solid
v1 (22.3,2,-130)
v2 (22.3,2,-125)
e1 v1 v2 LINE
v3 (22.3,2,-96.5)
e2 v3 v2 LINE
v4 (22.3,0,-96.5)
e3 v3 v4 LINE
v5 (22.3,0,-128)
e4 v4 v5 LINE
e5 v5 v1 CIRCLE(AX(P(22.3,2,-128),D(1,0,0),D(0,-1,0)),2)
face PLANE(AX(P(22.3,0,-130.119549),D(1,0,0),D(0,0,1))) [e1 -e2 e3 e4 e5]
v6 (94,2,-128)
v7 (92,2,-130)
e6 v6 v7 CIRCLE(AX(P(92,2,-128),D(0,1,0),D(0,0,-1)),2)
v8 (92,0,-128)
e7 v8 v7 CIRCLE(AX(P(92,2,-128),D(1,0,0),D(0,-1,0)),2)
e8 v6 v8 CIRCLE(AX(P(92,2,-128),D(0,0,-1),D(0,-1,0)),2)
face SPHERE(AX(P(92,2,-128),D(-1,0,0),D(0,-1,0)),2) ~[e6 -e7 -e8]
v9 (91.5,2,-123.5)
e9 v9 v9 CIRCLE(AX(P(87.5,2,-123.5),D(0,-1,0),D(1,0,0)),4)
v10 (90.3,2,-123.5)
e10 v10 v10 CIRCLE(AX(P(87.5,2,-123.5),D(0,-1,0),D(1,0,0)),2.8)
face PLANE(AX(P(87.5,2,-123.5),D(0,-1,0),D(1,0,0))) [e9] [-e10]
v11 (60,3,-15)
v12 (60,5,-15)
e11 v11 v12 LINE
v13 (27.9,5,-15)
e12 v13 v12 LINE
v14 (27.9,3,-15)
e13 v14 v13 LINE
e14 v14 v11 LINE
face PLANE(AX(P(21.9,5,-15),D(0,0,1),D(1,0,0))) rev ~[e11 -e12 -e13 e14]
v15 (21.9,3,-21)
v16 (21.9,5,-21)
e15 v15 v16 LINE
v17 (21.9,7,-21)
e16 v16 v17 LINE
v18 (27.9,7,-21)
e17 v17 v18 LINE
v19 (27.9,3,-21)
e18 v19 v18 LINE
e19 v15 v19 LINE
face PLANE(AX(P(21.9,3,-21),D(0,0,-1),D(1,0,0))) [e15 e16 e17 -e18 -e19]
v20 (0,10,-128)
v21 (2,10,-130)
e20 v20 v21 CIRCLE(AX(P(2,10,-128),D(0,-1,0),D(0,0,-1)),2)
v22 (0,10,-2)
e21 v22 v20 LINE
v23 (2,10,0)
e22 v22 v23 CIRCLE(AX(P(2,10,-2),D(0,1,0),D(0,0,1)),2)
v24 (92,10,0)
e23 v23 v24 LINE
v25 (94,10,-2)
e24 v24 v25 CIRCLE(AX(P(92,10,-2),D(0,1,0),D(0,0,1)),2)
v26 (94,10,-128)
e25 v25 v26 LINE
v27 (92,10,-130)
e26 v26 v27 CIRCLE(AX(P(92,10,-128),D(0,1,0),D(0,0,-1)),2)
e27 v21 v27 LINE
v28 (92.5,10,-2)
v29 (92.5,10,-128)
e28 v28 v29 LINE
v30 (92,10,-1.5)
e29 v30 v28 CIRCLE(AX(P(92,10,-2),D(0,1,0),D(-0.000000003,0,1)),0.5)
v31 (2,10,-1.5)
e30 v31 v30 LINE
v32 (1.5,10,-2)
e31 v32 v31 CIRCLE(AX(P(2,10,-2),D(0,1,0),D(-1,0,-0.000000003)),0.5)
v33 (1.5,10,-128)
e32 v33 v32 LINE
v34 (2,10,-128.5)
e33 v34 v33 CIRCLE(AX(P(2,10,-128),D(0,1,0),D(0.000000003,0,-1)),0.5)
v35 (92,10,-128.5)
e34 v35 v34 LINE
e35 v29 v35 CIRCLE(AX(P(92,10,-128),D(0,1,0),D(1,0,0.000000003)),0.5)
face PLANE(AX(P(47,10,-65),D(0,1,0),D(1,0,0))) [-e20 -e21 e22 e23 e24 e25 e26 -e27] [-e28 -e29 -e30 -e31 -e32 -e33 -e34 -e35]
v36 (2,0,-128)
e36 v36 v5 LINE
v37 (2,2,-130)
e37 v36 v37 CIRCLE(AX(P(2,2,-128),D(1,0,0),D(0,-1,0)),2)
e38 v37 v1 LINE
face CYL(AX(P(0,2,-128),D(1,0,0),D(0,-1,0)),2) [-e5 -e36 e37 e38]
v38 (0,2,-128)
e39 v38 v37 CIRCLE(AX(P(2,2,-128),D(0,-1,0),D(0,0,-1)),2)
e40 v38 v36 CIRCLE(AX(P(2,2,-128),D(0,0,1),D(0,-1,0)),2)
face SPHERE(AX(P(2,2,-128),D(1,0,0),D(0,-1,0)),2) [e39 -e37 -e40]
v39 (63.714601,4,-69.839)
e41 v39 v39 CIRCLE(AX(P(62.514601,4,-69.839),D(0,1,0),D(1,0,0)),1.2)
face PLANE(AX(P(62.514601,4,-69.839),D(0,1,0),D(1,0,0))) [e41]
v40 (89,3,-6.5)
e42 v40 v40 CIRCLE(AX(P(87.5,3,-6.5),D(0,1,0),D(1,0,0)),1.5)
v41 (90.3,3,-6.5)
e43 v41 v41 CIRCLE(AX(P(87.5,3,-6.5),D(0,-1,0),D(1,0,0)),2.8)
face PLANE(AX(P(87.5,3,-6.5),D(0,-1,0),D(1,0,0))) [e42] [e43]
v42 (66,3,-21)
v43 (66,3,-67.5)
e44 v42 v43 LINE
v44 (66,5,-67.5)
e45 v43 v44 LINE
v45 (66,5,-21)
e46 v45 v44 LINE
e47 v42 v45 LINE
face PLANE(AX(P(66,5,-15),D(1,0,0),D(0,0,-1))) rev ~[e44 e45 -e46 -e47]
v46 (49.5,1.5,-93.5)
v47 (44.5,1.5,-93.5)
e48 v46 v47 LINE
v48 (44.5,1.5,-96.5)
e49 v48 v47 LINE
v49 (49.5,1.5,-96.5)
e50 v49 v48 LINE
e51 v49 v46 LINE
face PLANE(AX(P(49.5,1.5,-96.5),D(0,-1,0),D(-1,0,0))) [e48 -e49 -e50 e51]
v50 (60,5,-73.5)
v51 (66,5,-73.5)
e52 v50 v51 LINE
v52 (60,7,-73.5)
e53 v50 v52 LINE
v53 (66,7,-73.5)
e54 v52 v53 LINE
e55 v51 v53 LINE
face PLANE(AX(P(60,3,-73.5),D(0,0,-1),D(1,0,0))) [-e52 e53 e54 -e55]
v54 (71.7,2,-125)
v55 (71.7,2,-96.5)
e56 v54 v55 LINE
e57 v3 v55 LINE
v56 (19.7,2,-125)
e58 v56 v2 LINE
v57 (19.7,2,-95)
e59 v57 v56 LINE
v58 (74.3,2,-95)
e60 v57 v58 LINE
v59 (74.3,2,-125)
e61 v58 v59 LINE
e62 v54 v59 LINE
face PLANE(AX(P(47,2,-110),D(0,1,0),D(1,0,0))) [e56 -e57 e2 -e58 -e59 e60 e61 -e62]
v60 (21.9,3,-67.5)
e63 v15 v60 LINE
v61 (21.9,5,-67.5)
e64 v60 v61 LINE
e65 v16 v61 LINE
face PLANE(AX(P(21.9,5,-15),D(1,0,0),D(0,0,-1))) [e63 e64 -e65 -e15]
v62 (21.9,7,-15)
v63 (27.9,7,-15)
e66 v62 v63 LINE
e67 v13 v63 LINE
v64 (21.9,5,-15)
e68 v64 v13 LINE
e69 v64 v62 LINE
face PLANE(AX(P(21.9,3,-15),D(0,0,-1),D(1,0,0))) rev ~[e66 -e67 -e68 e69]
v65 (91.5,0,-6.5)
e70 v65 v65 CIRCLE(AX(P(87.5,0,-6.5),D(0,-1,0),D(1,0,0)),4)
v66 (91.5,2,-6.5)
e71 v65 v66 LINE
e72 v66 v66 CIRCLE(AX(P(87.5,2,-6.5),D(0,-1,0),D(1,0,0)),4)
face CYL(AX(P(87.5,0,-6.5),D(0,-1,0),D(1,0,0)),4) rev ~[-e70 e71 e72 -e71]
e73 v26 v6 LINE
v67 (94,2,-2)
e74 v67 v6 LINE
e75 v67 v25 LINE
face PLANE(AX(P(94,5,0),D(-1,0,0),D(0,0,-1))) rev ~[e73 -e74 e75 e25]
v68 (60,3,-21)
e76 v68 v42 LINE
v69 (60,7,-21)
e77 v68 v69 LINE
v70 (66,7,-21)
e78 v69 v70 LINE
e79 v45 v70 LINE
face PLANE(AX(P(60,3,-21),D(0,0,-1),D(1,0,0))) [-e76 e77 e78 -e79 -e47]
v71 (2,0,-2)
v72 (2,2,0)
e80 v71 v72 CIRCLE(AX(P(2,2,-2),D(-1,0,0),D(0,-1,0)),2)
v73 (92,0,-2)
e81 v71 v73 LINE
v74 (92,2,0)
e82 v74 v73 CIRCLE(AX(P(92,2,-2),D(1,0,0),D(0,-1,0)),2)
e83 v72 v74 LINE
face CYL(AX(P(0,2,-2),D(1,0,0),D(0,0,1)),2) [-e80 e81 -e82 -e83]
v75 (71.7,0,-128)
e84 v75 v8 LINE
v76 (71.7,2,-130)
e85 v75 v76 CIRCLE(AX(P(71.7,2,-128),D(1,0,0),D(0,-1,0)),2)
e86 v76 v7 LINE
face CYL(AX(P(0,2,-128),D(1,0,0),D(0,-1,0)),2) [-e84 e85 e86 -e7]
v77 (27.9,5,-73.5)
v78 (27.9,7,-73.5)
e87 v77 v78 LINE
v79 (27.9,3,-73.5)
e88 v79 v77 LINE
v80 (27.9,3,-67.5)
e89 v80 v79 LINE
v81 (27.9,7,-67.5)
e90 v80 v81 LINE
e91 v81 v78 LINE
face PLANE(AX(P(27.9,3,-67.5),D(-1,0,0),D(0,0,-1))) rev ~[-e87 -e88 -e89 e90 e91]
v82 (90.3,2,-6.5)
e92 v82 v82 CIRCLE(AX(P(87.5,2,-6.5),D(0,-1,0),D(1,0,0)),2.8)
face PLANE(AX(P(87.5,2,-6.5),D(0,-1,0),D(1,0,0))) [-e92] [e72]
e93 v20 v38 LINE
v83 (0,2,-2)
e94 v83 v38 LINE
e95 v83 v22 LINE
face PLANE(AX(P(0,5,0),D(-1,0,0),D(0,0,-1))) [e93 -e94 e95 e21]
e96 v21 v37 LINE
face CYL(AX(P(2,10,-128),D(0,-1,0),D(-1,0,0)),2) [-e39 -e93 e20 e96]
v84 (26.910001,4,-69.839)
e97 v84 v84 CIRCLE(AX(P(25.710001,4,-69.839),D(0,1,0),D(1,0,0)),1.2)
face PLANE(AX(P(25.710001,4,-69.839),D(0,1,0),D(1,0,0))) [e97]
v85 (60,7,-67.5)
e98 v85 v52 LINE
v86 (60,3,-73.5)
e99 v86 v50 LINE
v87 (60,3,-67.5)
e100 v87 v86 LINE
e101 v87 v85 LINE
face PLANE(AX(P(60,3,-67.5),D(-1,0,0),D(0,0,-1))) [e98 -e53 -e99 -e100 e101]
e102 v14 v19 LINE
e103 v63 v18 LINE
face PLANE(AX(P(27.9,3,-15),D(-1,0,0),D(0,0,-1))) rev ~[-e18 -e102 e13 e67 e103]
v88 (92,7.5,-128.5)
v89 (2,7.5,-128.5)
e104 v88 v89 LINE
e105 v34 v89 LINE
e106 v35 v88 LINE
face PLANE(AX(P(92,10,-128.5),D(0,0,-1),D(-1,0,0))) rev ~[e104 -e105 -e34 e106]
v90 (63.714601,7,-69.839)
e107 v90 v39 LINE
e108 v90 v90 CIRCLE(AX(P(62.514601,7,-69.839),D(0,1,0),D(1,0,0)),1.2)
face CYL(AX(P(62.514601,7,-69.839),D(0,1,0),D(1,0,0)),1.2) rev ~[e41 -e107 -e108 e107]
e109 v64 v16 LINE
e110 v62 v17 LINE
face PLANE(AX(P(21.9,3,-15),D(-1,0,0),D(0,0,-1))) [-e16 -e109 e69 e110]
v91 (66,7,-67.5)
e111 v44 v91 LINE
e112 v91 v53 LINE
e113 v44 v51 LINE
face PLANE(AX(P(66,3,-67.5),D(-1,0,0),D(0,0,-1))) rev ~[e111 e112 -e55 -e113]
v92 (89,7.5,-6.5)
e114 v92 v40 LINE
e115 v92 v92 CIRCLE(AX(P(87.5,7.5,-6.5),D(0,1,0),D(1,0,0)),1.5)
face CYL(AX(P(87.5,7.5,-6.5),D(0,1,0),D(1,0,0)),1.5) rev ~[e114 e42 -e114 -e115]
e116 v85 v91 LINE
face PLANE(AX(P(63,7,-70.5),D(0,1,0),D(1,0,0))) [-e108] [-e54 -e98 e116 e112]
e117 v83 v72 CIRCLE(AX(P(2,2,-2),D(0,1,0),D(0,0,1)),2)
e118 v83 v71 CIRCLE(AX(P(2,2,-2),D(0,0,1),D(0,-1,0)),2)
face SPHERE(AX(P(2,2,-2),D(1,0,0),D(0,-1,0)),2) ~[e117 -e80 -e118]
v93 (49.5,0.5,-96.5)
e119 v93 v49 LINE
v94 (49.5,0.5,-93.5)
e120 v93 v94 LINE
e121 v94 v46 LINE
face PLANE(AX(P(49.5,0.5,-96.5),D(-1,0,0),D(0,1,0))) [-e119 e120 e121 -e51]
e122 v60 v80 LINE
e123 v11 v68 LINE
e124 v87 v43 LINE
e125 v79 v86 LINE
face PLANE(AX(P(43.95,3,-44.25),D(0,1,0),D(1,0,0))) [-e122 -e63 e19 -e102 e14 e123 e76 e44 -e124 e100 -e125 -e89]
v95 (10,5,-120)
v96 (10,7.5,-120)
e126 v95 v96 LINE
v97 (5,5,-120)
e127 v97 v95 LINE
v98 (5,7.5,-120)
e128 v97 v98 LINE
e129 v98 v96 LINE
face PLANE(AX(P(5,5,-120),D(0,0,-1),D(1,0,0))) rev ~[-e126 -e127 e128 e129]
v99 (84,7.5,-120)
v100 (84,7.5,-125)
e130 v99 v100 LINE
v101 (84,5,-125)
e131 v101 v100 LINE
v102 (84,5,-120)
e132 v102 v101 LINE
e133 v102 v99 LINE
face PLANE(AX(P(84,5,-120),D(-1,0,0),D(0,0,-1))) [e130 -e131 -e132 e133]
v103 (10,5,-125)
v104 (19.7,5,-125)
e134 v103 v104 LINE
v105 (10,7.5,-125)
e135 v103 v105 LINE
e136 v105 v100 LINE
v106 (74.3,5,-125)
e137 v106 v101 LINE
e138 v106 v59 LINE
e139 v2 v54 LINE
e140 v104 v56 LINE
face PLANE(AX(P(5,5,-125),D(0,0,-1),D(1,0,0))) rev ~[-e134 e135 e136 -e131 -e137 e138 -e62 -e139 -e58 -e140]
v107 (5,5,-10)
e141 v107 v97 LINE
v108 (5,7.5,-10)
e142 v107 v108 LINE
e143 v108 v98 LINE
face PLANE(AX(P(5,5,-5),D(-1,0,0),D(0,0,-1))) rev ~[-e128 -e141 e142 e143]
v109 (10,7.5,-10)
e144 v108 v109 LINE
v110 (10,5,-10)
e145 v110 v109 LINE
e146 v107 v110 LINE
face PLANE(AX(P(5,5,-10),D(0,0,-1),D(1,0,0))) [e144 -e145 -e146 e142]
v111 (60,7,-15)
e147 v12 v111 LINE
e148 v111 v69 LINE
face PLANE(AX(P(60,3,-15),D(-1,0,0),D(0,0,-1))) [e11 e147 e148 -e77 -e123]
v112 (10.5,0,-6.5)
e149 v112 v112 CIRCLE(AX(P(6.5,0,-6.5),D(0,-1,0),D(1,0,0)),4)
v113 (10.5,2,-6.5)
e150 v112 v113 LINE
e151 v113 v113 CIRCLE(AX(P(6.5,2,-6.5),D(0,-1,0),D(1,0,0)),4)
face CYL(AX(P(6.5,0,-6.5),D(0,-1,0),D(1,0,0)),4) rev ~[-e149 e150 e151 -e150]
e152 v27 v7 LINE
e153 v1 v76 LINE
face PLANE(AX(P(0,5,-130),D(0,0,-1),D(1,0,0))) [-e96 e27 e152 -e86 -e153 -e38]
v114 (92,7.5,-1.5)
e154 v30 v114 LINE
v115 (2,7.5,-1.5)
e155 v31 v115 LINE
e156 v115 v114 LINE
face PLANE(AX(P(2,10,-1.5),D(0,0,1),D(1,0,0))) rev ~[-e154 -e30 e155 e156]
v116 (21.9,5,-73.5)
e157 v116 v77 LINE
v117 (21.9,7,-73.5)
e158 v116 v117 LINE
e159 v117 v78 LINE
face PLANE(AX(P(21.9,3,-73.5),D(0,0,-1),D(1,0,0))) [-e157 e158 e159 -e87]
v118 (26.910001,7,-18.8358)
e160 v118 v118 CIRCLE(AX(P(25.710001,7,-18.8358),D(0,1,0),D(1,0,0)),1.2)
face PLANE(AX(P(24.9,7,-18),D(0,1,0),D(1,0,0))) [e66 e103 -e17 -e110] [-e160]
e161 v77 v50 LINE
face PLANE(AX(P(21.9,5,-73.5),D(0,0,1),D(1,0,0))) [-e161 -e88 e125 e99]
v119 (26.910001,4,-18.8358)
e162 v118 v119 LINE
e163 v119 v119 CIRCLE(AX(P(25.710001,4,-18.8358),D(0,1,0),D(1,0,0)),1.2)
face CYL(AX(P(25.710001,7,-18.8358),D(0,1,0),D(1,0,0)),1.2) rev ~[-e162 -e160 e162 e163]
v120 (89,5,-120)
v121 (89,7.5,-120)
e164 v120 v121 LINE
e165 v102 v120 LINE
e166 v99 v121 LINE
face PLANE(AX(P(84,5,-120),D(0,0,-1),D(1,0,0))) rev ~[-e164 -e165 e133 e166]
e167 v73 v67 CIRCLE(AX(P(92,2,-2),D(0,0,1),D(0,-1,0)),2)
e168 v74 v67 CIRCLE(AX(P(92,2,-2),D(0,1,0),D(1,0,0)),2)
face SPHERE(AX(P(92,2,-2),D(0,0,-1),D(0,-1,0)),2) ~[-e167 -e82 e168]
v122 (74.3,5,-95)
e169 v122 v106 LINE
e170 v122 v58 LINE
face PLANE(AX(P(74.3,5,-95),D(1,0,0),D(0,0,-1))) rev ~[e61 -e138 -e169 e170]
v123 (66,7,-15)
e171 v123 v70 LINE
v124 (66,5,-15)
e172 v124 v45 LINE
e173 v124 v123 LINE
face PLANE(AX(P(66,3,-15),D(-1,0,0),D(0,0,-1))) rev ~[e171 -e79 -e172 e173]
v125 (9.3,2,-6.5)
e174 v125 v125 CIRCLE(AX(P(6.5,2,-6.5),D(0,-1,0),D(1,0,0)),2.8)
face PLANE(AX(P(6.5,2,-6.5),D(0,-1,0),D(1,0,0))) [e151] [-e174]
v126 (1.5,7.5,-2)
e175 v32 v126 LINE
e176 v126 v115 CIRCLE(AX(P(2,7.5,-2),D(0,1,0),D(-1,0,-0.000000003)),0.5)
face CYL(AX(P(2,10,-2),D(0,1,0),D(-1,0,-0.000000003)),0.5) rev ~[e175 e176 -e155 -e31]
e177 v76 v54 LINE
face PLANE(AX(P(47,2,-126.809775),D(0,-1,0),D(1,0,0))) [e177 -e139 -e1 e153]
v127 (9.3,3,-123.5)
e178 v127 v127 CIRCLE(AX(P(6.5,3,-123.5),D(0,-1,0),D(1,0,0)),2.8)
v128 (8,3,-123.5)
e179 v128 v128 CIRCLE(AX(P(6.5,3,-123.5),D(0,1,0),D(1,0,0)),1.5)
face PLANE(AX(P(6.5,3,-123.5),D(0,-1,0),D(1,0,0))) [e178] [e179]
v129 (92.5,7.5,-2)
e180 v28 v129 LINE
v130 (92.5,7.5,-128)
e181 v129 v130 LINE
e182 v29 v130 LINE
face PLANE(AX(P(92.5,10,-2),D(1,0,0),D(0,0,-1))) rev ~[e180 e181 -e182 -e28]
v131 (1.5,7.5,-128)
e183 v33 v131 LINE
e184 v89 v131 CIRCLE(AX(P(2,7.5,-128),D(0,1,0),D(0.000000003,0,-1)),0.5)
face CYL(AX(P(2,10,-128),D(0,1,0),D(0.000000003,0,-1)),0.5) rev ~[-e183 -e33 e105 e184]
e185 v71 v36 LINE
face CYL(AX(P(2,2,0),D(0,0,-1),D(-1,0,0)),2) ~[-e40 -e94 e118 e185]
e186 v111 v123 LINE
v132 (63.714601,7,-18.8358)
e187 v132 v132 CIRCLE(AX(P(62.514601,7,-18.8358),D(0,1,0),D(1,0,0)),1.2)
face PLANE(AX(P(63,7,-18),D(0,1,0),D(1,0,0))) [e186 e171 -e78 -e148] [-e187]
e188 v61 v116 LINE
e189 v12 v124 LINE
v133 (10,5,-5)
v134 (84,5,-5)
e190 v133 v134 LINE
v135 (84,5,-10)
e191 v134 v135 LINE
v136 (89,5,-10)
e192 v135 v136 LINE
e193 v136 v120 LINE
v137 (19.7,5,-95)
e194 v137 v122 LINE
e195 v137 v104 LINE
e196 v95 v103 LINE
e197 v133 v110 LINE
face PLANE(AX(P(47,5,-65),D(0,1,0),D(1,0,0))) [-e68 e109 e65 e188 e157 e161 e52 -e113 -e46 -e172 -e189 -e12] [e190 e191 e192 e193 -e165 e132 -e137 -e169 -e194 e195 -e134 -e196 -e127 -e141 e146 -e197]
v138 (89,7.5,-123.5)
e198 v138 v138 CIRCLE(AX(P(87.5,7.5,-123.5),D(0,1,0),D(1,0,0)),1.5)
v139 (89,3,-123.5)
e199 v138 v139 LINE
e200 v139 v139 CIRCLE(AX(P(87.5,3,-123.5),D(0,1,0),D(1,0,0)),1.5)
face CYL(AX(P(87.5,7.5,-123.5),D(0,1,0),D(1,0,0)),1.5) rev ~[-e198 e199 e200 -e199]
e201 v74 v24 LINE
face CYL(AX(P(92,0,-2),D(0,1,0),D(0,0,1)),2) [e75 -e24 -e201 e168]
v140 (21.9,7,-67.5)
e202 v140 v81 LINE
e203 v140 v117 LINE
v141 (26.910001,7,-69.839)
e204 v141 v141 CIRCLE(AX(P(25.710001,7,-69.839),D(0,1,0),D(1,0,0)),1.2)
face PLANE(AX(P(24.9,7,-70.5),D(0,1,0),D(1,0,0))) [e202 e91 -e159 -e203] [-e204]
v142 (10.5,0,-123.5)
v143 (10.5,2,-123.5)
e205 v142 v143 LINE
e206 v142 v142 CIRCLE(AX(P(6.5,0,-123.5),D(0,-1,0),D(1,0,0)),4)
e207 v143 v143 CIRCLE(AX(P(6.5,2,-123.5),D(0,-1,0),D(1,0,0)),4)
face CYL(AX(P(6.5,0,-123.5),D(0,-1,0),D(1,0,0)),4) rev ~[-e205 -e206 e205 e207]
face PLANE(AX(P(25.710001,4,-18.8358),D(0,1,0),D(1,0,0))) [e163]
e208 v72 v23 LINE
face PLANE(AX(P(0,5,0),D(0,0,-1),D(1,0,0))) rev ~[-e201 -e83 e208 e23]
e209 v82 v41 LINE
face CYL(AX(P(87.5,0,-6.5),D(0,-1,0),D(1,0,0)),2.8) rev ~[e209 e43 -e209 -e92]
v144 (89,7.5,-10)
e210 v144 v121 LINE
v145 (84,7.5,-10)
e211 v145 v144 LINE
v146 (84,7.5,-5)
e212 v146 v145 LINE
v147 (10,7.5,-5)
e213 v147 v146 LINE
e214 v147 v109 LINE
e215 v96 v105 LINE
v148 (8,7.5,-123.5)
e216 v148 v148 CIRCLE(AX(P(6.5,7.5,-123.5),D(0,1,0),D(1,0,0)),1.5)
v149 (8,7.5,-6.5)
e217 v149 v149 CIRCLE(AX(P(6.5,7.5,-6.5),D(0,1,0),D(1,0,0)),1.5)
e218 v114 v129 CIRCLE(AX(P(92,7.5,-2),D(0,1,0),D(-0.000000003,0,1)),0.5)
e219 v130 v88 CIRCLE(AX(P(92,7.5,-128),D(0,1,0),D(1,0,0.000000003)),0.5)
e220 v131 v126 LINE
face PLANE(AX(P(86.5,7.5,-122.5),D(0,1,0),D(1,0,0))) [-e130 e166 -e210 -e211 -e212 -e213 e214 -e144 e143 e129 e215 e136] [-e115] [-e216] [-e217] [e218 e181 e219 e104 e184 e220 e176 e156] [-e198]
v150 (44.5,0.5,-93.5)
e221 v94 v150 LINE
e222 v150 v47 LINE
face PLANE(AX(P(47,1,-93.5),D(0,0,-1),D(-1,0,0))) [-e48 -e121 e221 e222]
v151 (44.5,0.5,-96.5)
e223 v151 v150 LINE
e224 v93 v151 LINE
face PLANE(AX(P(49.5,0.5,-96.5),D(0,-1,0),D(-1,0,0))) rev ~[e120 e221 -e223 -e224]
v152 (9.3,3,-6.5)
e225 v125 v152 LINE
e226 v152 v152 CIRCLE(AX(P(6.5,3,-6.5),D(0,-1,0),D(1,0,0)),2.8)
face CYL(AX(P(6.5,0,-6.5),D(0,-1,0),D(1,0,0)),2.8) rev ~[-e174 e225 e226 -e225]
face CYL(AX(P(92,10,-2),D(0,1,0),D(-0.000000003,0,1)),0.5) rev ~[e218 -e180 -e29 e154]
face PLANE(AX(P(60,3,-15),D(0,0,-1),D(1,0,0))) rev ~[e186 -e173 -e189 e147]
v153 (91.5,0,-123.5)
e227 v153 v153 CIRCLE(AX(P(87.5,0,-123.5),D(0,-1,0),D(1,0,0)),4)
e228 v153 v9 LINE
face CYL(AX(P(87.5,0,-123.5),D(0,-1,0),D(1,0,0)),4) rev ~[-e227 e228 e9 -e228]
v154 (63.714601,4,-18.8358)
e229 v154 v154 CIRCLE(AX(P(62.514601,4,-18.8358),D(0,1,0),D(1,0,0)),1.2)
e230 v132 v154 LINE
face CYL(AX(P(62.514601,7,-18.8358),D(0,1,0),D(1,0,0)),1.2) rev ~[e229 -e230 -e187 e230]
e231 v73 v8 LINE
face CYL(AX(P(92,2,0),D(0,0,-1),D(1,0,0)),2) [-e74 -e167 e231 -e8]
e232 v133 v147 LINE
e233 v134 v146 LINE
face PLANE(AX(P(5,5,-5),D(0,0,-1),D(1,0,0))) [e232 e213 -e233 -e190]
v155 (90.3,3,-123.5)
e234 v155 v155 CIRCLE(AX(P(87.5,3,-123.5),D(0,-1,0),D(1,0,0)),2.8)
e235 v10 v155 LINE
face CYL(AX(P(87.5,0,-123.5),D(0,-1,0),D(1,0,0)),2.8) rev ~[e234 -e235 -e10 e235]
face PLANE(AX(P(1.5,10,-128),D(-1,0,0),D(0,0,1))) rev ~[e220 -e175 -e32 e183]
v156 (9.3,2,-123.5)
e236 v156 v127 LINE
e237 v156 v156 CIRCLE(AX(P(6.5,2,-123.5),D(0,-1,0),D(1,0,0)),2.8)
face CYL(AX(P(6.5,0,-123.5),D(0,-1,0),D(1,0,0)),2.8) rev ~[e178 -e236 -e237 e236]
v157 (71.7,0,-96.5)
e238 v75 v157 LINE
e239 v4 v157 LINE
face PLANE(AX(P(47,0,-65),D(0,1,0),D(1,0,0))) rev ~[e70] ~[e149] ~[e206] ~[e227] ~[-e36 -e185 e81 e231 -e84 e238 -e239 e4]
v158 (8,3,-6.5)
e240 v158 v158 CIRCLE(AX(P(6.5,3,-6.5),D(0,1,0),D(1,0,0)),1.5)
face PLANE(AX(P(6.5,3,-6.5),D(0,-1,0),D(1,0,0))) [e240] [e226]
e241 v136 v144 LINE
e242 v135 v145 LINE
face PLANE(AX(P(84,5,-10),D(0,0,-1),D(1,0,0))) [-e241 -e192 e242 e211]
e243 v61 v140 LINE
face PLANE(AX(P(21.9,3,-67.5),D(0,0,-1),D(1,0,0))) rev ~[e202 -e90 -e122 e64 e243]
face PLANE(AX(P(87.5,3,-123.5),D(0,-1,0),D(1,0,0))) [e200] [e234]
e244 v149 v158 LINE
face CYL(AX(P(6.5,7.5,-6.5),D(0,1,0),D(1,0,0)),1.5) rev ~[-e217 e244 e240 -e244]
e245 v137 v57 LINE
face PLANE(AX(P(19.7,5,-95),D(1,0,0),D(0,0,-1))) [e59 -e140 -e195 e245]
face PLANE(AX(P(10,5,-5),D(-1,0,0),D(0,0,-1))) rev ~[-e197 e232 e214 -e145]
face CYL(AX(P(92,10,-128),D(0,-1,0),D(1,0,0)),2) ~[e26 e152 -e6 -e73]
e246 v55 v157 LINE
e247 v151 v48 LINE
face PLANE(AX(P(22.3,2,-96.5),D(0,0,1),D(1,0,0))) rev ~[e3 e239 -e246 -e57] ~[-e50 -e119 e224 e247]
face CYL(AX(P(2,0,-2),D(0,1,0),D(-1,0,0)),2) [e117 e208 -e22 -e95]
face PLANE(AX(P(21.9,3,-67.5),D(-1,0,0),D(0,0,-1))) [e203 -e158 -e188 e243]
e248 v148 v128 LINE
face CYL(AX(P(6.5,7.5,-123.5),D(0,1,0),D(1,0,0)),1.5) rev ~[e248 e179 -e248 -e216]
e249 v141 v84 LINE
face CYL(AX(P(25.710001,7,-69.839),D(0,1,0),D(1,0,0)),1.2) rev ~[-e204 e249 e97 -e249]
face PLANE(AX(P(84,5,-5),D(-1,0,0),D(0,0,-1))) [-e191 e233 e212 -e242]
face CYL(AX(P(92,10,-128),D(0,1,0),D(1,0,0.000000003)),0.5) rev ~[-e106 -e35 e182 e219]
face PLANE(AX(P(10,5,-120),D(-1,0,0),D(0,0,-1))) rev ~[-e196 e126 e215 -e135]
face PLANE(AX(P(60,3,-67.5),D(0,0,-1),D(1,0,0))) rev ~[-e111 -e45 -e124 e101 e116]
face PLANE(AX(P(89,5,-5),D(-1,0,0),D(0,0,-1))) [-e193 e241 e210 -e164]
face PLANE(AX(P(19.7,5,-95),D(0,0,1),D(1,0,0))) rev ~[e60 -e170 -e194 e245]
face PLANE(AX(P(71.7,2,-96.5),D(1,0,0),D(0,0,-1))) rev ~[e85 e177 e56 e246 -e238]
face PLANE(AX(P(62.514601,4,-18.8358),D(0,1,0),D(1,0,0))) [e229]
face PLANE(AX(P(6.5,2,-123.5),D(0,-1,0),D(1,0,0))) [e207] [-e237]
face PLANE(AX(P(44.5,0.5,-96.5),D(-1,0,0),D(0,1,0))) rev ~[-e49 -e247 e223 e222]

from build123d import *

# Parameters (mm, degrees)
SKETCH1_W           = 94
SKETCH1_H           = 130
BOSS_EXTRUDE1_DEPTH = 5
SKETCH2_W           = 94
SKETCH2_H           = 130
SKETCH2_W_2         = 84
SKETCH2_H_2         = 120
BOSS_EXTRUDE2_DEPTH = 5
FILLET1_R           = 2
SKETCH3_W           = 44.1
SKETCH3_H           = 58.5
CUT_EXTRUDE1_DEPTH  = 2
SKETCH5_W           = 6
SKETCH5_H           = 6
BOSS_EXTRUDE4_DEPTH = 4
SKETCH7_R           = 1.20000014
CUT_EXTRUDE2_DEPTH  = 3
SKETCH8_W           = 54.6
SKETCH8_H           = 30
CUT_EXTRUDE3_DEPTH  = 3
SKETCH9_W           = 49.4
SKETCH9_H           = 27
CUT_EXTRUDE4_DEPTH  = 2
SKETCH10_W          = 49.4
SKETCH10_H          = 6.619549161
CUT_EXTRUDE5_DEPTH  = 2
SKETCH11_W          = 5
SKETCH11_H          = 1
CUT_EXTRUDE6_DEPTH  = 3
SKETCH14_W          = 84
SKETCH14_H          = 120
CUT_EXTRUDE8_DEPTH  = 2.5
SKETCH15_W          = 5
SKETCH15_H          = 5
BOSS_EXTRUDE5_DEPTH = 2.5
SKETCH16_R          = 1.5
CUT_EXTRUDE9_DEPTH  = 8.5
SKETCH17_R          = 2.8
CUT_EXTRUDE10_DEPTH = 3
SKETCH18_R          = 4
CUT_EXTRUDE11_DEPTH = 2


with BuildPart() as part:
    # Sketch1 → Boss-Extrude1 (new body)
    with BuildSketch(Plane(origin=(0, 0, 0), x_dir=(1, 0, 0), z_dir=(0, 1, 0))):
        with Locations((47, 65)):
            Rectangle(SKETCH1_W, SKETCH1_H)
    extrude(amount=BOSS_EXTRUDE1_DEPTH)

    # Sketch2 → Boss-Extrude2 (add)
    with BuildSketch(Plane(origin=(0, 5, 0), x_dir=(1, 0, 0), z_dir=(0, 1, 0))):
        with Locations((47, 65)):
            Rectangle(SKETCH2_W, SKETCH2_H)
        with Locations((47, 65)):
            Rectangle(SKETCH2_W_2, SKETCH2_H_2, mode=Mode.SUBTRACT)
    extrude(amount=BOSS_EXTRUDE2_DEPTH)

    # Fillet1
    fillet1_edges = [part.edges().sort_by_distance(p)[0] for p in [
        (47, 0, -130),
        (94, 0, -65),
        (47, 0, 0),
        (0, 0, -65),
        (0, 5, -130),
        (94, 5, -130),
        (94, 5, 0),
        (0, 5, 0),
    ]]
    fillet(fillet1_edges, radius=FILLET1_R)

    # Sketch3 → Cut-Extrude1 (cut)
    with BuildSketch(Plane(origin=(0, 5, 0), x_dir=(1, 0, 0), z_dir=(0, 1, 0))):
        with Locations((43.95, 44.25)):
            Rectangle(SKETCH3_W, SKETCH3_H)
    extrude(amount=-CUT_EXTRUDE1_DEPTH, mode=Mode.SUBTRACT)

    # Sketch5 → Boss-Extrude4 (add)
    with BuildSketch(Plane(origin=(0, 3, 0), x_dir=(1, 0, 0), z_dir=(0, 1, 0))):
        with Locations((24.9, 70.5)):
            Rectangle(SKETCH5_W, SKETCH5_H)
        with Locations((63, 70.5)):
            Rectangle(SKETCH5_W, SKETCH5_H)
        with Locations((63, 18)):
            Rectangle(SKETCH5_W, SKETCH5_H)
        with Locations((24.9, 18)):
            Rectangle(SKETCH5_W, SKETCH5_H)
    extrude(amount=BOSS_EXTRUDE4_DEPTH)

    # Sketch7 → Cut-Extrude2 (cut)
    with BuildSketch(Plane(origin=(0, 7, 0), x_dir=(1, 0, 0), z_dir=(0, 1, 0))):
        with Locations((25.710000549, 69.839000092)):
            Circle(SKETCH7_R)
        with Locations((62.514600549, 69.839000092)):
            Circle(SKETCH7_R)
        with Locations((62.514600549, 18.835800092)):
            Circle(SKETCH7_R)
        with Locations((25.710000549, 18.835800092)):
            Circle(SKETCH7_R)
    extrude(amount=-CUT_EXTRUDE2_DEPTH, mode=Mode.SUBTRACT)

    # Sketch8 → Cut-Extrude3 (cut)
    with BuildSketch(Plane(origin=(0, 5, 0), x_dir=(1, 0, 0), z_dir=(0, 1, 0))):
        with Locations((47, 110)):
            Rectangle(SKETCH8_W, SKETCH8_H)
    extrude(amount=-CUT_EXTRUDE3_DEPTH, mode=Mode.SUBTRACT)

    # Sketch9 → Cut-Extrude4 (cut)
    with BuildSketch(Plane(origin=(0, 2, 0), x_dir=(1, 0, 0), z_dir=(0, 1, 0))):
        with Locations((47, 110)):
            Rectangle(SKETCH9_W, SKETCH9_H)
    extrude(amount=-CUT_EXTRUDE4_DEPTH, mode=Mode.SUBTRACT)

    # Sketch10 → Cut-Extrude5 (cut)
    with BuildSketch(Plane.XZ):
        with Locations((47, -126.809774581)):
            Rectangle(SKETCH10_W, SKETCH10_H)
    extrude(amount=-CUT_EXTRUDE5_DEPTH, mode=Mode.SUBTRACT)

    # Sketch11 → Cut-Extrude6 (cut)
    with BuildSketch(Plane(origin=(0, 0, -96.5), x_dir=(-1, 0, 0), z_dir=(0, 0, -1))):
        with Locations((-47, 1)):
            Rectangle(SKETCH11_W, SKETCH11_H)
    extrude(amount=-CUT_EXTRUDE6_DEPTH, mode=Mode.SUBTRACT)

    # Sketch14 → Cut-Extrude8 (cut)
    with BuildSketch(Plane(origin=(0, 10, 0), x_dir=(1, 0, 0), z_dir=(0, 1, 0))):
        with BuildLine():
            Line((92.5, 2), (92.5, 128))
            ThreePointArc((92.5, 128), (92.353553391, 128.353553391), (92, 128.5))
            Line((92, 128.5), (2, 128.5))
            ThreePointArc((2, 128.5), (1.646446609, 128.353553391), (1.5, 128))
            Line((1.5, 128), (1.5, 2))
            ThreePointArc((1.5, 2), (1.646446609, 1.646446609), (2, 1.5))
            Line((2, 1.5), (92, 1.5))
            ThreePointArc((92, 1.5), (92.353553391, 1.646446609), (92.5, 2))
        make_face()
        with Locations((47, 65)):
            Rectangle(SKETCH14_W, SKETCH14_H, mode=Mode.SUBTRACT)
    extrude(amount=-CUT_EXTRUDE8_DEPTH, mode=Mode.SUBTRACT)

    # Sketch15 → Boss-Extrude5 (add)
    with BuildSketch(Plane(origin=(0, 5, 0), x_dir=(1, 0, 0), z_dir=(0, 1, 0))):
        with Locations((86.5, 122.5)):
            Rectangle(SKETCH15_W, SKETCH15_H)
        with Locations((7.5, 122.5)):
            Rectangle(SKETCH15_W, SKETCH15_H)
        with Locations((7.5, 7.5)):
            Rectangle(SKETCH15_W, SKETCH15_H)
        with Locations((86.5, 7.5)):
            Rectangle(SKETCH15_W, SKETCH15_H)
    extrude(amount=BOSS_EXTRUDE5_DEPTH)

    # Sketch16 → Cut-Extrude9 (cut, through all)
    with BuildSketch(Plane(origin=(0, 7.5, 0), x_dir=(1, 0, 0), z_dir=(0, 1, 0))):
        with Locations((6.5, 123.5)):
            Circle(SKETCH16_R)
        with Locations((87.5, 123.5)):
            Circle(SKETCH16_R)
        with Locations((87.5, 6.5)):
            Circle(SKETCH16_R)
        with Locations((6.5, 6.5)):
            Circle(SKETCH16_R)
    extrude(amount=-CUT_EXTRUDE9_DEPTH, mode=Mode.SUBTRACT)

    # Sketch17 → Cut-Extrude10 (cut)
    with BuildSketch(Plane.XZ):
        with Locations((6.5, -6.5)):
            Circle(SKETCH17_R)
        with Locations((87.5, -6.5)):
            Circle(SKETCH17_R)
        with Locations((87.5, -123.5)):
            Circle(SKETCH17_R)
        with Locations((6.5, -123.5)):
            Circle(SKETCH17_R)
    extrude(amount=-CUT_EXTRUDE10_DEPTH, mode=Mode.SUBTRACT)

    # Sketch18 → Cut-Extrude11 (cut)
    with BuildSketch(Plane.XZ):
        with Locations((6.5, -123.5)):
            Circle(SKETCH18_R)
        with Locations((87.5, -123.5)):
            Circle(SKETCH18_R)
        with Locations((87.5, -6.5)):
            Circle(SKETCH18_R)
        with Locations((6.5, -6.5)):
            Circle(SKETCH18_R)
    extrude(amount=-CUT_EXTRUDE11_DEPTH, mode=Mode.SUBTRACT)


solid = part.part
